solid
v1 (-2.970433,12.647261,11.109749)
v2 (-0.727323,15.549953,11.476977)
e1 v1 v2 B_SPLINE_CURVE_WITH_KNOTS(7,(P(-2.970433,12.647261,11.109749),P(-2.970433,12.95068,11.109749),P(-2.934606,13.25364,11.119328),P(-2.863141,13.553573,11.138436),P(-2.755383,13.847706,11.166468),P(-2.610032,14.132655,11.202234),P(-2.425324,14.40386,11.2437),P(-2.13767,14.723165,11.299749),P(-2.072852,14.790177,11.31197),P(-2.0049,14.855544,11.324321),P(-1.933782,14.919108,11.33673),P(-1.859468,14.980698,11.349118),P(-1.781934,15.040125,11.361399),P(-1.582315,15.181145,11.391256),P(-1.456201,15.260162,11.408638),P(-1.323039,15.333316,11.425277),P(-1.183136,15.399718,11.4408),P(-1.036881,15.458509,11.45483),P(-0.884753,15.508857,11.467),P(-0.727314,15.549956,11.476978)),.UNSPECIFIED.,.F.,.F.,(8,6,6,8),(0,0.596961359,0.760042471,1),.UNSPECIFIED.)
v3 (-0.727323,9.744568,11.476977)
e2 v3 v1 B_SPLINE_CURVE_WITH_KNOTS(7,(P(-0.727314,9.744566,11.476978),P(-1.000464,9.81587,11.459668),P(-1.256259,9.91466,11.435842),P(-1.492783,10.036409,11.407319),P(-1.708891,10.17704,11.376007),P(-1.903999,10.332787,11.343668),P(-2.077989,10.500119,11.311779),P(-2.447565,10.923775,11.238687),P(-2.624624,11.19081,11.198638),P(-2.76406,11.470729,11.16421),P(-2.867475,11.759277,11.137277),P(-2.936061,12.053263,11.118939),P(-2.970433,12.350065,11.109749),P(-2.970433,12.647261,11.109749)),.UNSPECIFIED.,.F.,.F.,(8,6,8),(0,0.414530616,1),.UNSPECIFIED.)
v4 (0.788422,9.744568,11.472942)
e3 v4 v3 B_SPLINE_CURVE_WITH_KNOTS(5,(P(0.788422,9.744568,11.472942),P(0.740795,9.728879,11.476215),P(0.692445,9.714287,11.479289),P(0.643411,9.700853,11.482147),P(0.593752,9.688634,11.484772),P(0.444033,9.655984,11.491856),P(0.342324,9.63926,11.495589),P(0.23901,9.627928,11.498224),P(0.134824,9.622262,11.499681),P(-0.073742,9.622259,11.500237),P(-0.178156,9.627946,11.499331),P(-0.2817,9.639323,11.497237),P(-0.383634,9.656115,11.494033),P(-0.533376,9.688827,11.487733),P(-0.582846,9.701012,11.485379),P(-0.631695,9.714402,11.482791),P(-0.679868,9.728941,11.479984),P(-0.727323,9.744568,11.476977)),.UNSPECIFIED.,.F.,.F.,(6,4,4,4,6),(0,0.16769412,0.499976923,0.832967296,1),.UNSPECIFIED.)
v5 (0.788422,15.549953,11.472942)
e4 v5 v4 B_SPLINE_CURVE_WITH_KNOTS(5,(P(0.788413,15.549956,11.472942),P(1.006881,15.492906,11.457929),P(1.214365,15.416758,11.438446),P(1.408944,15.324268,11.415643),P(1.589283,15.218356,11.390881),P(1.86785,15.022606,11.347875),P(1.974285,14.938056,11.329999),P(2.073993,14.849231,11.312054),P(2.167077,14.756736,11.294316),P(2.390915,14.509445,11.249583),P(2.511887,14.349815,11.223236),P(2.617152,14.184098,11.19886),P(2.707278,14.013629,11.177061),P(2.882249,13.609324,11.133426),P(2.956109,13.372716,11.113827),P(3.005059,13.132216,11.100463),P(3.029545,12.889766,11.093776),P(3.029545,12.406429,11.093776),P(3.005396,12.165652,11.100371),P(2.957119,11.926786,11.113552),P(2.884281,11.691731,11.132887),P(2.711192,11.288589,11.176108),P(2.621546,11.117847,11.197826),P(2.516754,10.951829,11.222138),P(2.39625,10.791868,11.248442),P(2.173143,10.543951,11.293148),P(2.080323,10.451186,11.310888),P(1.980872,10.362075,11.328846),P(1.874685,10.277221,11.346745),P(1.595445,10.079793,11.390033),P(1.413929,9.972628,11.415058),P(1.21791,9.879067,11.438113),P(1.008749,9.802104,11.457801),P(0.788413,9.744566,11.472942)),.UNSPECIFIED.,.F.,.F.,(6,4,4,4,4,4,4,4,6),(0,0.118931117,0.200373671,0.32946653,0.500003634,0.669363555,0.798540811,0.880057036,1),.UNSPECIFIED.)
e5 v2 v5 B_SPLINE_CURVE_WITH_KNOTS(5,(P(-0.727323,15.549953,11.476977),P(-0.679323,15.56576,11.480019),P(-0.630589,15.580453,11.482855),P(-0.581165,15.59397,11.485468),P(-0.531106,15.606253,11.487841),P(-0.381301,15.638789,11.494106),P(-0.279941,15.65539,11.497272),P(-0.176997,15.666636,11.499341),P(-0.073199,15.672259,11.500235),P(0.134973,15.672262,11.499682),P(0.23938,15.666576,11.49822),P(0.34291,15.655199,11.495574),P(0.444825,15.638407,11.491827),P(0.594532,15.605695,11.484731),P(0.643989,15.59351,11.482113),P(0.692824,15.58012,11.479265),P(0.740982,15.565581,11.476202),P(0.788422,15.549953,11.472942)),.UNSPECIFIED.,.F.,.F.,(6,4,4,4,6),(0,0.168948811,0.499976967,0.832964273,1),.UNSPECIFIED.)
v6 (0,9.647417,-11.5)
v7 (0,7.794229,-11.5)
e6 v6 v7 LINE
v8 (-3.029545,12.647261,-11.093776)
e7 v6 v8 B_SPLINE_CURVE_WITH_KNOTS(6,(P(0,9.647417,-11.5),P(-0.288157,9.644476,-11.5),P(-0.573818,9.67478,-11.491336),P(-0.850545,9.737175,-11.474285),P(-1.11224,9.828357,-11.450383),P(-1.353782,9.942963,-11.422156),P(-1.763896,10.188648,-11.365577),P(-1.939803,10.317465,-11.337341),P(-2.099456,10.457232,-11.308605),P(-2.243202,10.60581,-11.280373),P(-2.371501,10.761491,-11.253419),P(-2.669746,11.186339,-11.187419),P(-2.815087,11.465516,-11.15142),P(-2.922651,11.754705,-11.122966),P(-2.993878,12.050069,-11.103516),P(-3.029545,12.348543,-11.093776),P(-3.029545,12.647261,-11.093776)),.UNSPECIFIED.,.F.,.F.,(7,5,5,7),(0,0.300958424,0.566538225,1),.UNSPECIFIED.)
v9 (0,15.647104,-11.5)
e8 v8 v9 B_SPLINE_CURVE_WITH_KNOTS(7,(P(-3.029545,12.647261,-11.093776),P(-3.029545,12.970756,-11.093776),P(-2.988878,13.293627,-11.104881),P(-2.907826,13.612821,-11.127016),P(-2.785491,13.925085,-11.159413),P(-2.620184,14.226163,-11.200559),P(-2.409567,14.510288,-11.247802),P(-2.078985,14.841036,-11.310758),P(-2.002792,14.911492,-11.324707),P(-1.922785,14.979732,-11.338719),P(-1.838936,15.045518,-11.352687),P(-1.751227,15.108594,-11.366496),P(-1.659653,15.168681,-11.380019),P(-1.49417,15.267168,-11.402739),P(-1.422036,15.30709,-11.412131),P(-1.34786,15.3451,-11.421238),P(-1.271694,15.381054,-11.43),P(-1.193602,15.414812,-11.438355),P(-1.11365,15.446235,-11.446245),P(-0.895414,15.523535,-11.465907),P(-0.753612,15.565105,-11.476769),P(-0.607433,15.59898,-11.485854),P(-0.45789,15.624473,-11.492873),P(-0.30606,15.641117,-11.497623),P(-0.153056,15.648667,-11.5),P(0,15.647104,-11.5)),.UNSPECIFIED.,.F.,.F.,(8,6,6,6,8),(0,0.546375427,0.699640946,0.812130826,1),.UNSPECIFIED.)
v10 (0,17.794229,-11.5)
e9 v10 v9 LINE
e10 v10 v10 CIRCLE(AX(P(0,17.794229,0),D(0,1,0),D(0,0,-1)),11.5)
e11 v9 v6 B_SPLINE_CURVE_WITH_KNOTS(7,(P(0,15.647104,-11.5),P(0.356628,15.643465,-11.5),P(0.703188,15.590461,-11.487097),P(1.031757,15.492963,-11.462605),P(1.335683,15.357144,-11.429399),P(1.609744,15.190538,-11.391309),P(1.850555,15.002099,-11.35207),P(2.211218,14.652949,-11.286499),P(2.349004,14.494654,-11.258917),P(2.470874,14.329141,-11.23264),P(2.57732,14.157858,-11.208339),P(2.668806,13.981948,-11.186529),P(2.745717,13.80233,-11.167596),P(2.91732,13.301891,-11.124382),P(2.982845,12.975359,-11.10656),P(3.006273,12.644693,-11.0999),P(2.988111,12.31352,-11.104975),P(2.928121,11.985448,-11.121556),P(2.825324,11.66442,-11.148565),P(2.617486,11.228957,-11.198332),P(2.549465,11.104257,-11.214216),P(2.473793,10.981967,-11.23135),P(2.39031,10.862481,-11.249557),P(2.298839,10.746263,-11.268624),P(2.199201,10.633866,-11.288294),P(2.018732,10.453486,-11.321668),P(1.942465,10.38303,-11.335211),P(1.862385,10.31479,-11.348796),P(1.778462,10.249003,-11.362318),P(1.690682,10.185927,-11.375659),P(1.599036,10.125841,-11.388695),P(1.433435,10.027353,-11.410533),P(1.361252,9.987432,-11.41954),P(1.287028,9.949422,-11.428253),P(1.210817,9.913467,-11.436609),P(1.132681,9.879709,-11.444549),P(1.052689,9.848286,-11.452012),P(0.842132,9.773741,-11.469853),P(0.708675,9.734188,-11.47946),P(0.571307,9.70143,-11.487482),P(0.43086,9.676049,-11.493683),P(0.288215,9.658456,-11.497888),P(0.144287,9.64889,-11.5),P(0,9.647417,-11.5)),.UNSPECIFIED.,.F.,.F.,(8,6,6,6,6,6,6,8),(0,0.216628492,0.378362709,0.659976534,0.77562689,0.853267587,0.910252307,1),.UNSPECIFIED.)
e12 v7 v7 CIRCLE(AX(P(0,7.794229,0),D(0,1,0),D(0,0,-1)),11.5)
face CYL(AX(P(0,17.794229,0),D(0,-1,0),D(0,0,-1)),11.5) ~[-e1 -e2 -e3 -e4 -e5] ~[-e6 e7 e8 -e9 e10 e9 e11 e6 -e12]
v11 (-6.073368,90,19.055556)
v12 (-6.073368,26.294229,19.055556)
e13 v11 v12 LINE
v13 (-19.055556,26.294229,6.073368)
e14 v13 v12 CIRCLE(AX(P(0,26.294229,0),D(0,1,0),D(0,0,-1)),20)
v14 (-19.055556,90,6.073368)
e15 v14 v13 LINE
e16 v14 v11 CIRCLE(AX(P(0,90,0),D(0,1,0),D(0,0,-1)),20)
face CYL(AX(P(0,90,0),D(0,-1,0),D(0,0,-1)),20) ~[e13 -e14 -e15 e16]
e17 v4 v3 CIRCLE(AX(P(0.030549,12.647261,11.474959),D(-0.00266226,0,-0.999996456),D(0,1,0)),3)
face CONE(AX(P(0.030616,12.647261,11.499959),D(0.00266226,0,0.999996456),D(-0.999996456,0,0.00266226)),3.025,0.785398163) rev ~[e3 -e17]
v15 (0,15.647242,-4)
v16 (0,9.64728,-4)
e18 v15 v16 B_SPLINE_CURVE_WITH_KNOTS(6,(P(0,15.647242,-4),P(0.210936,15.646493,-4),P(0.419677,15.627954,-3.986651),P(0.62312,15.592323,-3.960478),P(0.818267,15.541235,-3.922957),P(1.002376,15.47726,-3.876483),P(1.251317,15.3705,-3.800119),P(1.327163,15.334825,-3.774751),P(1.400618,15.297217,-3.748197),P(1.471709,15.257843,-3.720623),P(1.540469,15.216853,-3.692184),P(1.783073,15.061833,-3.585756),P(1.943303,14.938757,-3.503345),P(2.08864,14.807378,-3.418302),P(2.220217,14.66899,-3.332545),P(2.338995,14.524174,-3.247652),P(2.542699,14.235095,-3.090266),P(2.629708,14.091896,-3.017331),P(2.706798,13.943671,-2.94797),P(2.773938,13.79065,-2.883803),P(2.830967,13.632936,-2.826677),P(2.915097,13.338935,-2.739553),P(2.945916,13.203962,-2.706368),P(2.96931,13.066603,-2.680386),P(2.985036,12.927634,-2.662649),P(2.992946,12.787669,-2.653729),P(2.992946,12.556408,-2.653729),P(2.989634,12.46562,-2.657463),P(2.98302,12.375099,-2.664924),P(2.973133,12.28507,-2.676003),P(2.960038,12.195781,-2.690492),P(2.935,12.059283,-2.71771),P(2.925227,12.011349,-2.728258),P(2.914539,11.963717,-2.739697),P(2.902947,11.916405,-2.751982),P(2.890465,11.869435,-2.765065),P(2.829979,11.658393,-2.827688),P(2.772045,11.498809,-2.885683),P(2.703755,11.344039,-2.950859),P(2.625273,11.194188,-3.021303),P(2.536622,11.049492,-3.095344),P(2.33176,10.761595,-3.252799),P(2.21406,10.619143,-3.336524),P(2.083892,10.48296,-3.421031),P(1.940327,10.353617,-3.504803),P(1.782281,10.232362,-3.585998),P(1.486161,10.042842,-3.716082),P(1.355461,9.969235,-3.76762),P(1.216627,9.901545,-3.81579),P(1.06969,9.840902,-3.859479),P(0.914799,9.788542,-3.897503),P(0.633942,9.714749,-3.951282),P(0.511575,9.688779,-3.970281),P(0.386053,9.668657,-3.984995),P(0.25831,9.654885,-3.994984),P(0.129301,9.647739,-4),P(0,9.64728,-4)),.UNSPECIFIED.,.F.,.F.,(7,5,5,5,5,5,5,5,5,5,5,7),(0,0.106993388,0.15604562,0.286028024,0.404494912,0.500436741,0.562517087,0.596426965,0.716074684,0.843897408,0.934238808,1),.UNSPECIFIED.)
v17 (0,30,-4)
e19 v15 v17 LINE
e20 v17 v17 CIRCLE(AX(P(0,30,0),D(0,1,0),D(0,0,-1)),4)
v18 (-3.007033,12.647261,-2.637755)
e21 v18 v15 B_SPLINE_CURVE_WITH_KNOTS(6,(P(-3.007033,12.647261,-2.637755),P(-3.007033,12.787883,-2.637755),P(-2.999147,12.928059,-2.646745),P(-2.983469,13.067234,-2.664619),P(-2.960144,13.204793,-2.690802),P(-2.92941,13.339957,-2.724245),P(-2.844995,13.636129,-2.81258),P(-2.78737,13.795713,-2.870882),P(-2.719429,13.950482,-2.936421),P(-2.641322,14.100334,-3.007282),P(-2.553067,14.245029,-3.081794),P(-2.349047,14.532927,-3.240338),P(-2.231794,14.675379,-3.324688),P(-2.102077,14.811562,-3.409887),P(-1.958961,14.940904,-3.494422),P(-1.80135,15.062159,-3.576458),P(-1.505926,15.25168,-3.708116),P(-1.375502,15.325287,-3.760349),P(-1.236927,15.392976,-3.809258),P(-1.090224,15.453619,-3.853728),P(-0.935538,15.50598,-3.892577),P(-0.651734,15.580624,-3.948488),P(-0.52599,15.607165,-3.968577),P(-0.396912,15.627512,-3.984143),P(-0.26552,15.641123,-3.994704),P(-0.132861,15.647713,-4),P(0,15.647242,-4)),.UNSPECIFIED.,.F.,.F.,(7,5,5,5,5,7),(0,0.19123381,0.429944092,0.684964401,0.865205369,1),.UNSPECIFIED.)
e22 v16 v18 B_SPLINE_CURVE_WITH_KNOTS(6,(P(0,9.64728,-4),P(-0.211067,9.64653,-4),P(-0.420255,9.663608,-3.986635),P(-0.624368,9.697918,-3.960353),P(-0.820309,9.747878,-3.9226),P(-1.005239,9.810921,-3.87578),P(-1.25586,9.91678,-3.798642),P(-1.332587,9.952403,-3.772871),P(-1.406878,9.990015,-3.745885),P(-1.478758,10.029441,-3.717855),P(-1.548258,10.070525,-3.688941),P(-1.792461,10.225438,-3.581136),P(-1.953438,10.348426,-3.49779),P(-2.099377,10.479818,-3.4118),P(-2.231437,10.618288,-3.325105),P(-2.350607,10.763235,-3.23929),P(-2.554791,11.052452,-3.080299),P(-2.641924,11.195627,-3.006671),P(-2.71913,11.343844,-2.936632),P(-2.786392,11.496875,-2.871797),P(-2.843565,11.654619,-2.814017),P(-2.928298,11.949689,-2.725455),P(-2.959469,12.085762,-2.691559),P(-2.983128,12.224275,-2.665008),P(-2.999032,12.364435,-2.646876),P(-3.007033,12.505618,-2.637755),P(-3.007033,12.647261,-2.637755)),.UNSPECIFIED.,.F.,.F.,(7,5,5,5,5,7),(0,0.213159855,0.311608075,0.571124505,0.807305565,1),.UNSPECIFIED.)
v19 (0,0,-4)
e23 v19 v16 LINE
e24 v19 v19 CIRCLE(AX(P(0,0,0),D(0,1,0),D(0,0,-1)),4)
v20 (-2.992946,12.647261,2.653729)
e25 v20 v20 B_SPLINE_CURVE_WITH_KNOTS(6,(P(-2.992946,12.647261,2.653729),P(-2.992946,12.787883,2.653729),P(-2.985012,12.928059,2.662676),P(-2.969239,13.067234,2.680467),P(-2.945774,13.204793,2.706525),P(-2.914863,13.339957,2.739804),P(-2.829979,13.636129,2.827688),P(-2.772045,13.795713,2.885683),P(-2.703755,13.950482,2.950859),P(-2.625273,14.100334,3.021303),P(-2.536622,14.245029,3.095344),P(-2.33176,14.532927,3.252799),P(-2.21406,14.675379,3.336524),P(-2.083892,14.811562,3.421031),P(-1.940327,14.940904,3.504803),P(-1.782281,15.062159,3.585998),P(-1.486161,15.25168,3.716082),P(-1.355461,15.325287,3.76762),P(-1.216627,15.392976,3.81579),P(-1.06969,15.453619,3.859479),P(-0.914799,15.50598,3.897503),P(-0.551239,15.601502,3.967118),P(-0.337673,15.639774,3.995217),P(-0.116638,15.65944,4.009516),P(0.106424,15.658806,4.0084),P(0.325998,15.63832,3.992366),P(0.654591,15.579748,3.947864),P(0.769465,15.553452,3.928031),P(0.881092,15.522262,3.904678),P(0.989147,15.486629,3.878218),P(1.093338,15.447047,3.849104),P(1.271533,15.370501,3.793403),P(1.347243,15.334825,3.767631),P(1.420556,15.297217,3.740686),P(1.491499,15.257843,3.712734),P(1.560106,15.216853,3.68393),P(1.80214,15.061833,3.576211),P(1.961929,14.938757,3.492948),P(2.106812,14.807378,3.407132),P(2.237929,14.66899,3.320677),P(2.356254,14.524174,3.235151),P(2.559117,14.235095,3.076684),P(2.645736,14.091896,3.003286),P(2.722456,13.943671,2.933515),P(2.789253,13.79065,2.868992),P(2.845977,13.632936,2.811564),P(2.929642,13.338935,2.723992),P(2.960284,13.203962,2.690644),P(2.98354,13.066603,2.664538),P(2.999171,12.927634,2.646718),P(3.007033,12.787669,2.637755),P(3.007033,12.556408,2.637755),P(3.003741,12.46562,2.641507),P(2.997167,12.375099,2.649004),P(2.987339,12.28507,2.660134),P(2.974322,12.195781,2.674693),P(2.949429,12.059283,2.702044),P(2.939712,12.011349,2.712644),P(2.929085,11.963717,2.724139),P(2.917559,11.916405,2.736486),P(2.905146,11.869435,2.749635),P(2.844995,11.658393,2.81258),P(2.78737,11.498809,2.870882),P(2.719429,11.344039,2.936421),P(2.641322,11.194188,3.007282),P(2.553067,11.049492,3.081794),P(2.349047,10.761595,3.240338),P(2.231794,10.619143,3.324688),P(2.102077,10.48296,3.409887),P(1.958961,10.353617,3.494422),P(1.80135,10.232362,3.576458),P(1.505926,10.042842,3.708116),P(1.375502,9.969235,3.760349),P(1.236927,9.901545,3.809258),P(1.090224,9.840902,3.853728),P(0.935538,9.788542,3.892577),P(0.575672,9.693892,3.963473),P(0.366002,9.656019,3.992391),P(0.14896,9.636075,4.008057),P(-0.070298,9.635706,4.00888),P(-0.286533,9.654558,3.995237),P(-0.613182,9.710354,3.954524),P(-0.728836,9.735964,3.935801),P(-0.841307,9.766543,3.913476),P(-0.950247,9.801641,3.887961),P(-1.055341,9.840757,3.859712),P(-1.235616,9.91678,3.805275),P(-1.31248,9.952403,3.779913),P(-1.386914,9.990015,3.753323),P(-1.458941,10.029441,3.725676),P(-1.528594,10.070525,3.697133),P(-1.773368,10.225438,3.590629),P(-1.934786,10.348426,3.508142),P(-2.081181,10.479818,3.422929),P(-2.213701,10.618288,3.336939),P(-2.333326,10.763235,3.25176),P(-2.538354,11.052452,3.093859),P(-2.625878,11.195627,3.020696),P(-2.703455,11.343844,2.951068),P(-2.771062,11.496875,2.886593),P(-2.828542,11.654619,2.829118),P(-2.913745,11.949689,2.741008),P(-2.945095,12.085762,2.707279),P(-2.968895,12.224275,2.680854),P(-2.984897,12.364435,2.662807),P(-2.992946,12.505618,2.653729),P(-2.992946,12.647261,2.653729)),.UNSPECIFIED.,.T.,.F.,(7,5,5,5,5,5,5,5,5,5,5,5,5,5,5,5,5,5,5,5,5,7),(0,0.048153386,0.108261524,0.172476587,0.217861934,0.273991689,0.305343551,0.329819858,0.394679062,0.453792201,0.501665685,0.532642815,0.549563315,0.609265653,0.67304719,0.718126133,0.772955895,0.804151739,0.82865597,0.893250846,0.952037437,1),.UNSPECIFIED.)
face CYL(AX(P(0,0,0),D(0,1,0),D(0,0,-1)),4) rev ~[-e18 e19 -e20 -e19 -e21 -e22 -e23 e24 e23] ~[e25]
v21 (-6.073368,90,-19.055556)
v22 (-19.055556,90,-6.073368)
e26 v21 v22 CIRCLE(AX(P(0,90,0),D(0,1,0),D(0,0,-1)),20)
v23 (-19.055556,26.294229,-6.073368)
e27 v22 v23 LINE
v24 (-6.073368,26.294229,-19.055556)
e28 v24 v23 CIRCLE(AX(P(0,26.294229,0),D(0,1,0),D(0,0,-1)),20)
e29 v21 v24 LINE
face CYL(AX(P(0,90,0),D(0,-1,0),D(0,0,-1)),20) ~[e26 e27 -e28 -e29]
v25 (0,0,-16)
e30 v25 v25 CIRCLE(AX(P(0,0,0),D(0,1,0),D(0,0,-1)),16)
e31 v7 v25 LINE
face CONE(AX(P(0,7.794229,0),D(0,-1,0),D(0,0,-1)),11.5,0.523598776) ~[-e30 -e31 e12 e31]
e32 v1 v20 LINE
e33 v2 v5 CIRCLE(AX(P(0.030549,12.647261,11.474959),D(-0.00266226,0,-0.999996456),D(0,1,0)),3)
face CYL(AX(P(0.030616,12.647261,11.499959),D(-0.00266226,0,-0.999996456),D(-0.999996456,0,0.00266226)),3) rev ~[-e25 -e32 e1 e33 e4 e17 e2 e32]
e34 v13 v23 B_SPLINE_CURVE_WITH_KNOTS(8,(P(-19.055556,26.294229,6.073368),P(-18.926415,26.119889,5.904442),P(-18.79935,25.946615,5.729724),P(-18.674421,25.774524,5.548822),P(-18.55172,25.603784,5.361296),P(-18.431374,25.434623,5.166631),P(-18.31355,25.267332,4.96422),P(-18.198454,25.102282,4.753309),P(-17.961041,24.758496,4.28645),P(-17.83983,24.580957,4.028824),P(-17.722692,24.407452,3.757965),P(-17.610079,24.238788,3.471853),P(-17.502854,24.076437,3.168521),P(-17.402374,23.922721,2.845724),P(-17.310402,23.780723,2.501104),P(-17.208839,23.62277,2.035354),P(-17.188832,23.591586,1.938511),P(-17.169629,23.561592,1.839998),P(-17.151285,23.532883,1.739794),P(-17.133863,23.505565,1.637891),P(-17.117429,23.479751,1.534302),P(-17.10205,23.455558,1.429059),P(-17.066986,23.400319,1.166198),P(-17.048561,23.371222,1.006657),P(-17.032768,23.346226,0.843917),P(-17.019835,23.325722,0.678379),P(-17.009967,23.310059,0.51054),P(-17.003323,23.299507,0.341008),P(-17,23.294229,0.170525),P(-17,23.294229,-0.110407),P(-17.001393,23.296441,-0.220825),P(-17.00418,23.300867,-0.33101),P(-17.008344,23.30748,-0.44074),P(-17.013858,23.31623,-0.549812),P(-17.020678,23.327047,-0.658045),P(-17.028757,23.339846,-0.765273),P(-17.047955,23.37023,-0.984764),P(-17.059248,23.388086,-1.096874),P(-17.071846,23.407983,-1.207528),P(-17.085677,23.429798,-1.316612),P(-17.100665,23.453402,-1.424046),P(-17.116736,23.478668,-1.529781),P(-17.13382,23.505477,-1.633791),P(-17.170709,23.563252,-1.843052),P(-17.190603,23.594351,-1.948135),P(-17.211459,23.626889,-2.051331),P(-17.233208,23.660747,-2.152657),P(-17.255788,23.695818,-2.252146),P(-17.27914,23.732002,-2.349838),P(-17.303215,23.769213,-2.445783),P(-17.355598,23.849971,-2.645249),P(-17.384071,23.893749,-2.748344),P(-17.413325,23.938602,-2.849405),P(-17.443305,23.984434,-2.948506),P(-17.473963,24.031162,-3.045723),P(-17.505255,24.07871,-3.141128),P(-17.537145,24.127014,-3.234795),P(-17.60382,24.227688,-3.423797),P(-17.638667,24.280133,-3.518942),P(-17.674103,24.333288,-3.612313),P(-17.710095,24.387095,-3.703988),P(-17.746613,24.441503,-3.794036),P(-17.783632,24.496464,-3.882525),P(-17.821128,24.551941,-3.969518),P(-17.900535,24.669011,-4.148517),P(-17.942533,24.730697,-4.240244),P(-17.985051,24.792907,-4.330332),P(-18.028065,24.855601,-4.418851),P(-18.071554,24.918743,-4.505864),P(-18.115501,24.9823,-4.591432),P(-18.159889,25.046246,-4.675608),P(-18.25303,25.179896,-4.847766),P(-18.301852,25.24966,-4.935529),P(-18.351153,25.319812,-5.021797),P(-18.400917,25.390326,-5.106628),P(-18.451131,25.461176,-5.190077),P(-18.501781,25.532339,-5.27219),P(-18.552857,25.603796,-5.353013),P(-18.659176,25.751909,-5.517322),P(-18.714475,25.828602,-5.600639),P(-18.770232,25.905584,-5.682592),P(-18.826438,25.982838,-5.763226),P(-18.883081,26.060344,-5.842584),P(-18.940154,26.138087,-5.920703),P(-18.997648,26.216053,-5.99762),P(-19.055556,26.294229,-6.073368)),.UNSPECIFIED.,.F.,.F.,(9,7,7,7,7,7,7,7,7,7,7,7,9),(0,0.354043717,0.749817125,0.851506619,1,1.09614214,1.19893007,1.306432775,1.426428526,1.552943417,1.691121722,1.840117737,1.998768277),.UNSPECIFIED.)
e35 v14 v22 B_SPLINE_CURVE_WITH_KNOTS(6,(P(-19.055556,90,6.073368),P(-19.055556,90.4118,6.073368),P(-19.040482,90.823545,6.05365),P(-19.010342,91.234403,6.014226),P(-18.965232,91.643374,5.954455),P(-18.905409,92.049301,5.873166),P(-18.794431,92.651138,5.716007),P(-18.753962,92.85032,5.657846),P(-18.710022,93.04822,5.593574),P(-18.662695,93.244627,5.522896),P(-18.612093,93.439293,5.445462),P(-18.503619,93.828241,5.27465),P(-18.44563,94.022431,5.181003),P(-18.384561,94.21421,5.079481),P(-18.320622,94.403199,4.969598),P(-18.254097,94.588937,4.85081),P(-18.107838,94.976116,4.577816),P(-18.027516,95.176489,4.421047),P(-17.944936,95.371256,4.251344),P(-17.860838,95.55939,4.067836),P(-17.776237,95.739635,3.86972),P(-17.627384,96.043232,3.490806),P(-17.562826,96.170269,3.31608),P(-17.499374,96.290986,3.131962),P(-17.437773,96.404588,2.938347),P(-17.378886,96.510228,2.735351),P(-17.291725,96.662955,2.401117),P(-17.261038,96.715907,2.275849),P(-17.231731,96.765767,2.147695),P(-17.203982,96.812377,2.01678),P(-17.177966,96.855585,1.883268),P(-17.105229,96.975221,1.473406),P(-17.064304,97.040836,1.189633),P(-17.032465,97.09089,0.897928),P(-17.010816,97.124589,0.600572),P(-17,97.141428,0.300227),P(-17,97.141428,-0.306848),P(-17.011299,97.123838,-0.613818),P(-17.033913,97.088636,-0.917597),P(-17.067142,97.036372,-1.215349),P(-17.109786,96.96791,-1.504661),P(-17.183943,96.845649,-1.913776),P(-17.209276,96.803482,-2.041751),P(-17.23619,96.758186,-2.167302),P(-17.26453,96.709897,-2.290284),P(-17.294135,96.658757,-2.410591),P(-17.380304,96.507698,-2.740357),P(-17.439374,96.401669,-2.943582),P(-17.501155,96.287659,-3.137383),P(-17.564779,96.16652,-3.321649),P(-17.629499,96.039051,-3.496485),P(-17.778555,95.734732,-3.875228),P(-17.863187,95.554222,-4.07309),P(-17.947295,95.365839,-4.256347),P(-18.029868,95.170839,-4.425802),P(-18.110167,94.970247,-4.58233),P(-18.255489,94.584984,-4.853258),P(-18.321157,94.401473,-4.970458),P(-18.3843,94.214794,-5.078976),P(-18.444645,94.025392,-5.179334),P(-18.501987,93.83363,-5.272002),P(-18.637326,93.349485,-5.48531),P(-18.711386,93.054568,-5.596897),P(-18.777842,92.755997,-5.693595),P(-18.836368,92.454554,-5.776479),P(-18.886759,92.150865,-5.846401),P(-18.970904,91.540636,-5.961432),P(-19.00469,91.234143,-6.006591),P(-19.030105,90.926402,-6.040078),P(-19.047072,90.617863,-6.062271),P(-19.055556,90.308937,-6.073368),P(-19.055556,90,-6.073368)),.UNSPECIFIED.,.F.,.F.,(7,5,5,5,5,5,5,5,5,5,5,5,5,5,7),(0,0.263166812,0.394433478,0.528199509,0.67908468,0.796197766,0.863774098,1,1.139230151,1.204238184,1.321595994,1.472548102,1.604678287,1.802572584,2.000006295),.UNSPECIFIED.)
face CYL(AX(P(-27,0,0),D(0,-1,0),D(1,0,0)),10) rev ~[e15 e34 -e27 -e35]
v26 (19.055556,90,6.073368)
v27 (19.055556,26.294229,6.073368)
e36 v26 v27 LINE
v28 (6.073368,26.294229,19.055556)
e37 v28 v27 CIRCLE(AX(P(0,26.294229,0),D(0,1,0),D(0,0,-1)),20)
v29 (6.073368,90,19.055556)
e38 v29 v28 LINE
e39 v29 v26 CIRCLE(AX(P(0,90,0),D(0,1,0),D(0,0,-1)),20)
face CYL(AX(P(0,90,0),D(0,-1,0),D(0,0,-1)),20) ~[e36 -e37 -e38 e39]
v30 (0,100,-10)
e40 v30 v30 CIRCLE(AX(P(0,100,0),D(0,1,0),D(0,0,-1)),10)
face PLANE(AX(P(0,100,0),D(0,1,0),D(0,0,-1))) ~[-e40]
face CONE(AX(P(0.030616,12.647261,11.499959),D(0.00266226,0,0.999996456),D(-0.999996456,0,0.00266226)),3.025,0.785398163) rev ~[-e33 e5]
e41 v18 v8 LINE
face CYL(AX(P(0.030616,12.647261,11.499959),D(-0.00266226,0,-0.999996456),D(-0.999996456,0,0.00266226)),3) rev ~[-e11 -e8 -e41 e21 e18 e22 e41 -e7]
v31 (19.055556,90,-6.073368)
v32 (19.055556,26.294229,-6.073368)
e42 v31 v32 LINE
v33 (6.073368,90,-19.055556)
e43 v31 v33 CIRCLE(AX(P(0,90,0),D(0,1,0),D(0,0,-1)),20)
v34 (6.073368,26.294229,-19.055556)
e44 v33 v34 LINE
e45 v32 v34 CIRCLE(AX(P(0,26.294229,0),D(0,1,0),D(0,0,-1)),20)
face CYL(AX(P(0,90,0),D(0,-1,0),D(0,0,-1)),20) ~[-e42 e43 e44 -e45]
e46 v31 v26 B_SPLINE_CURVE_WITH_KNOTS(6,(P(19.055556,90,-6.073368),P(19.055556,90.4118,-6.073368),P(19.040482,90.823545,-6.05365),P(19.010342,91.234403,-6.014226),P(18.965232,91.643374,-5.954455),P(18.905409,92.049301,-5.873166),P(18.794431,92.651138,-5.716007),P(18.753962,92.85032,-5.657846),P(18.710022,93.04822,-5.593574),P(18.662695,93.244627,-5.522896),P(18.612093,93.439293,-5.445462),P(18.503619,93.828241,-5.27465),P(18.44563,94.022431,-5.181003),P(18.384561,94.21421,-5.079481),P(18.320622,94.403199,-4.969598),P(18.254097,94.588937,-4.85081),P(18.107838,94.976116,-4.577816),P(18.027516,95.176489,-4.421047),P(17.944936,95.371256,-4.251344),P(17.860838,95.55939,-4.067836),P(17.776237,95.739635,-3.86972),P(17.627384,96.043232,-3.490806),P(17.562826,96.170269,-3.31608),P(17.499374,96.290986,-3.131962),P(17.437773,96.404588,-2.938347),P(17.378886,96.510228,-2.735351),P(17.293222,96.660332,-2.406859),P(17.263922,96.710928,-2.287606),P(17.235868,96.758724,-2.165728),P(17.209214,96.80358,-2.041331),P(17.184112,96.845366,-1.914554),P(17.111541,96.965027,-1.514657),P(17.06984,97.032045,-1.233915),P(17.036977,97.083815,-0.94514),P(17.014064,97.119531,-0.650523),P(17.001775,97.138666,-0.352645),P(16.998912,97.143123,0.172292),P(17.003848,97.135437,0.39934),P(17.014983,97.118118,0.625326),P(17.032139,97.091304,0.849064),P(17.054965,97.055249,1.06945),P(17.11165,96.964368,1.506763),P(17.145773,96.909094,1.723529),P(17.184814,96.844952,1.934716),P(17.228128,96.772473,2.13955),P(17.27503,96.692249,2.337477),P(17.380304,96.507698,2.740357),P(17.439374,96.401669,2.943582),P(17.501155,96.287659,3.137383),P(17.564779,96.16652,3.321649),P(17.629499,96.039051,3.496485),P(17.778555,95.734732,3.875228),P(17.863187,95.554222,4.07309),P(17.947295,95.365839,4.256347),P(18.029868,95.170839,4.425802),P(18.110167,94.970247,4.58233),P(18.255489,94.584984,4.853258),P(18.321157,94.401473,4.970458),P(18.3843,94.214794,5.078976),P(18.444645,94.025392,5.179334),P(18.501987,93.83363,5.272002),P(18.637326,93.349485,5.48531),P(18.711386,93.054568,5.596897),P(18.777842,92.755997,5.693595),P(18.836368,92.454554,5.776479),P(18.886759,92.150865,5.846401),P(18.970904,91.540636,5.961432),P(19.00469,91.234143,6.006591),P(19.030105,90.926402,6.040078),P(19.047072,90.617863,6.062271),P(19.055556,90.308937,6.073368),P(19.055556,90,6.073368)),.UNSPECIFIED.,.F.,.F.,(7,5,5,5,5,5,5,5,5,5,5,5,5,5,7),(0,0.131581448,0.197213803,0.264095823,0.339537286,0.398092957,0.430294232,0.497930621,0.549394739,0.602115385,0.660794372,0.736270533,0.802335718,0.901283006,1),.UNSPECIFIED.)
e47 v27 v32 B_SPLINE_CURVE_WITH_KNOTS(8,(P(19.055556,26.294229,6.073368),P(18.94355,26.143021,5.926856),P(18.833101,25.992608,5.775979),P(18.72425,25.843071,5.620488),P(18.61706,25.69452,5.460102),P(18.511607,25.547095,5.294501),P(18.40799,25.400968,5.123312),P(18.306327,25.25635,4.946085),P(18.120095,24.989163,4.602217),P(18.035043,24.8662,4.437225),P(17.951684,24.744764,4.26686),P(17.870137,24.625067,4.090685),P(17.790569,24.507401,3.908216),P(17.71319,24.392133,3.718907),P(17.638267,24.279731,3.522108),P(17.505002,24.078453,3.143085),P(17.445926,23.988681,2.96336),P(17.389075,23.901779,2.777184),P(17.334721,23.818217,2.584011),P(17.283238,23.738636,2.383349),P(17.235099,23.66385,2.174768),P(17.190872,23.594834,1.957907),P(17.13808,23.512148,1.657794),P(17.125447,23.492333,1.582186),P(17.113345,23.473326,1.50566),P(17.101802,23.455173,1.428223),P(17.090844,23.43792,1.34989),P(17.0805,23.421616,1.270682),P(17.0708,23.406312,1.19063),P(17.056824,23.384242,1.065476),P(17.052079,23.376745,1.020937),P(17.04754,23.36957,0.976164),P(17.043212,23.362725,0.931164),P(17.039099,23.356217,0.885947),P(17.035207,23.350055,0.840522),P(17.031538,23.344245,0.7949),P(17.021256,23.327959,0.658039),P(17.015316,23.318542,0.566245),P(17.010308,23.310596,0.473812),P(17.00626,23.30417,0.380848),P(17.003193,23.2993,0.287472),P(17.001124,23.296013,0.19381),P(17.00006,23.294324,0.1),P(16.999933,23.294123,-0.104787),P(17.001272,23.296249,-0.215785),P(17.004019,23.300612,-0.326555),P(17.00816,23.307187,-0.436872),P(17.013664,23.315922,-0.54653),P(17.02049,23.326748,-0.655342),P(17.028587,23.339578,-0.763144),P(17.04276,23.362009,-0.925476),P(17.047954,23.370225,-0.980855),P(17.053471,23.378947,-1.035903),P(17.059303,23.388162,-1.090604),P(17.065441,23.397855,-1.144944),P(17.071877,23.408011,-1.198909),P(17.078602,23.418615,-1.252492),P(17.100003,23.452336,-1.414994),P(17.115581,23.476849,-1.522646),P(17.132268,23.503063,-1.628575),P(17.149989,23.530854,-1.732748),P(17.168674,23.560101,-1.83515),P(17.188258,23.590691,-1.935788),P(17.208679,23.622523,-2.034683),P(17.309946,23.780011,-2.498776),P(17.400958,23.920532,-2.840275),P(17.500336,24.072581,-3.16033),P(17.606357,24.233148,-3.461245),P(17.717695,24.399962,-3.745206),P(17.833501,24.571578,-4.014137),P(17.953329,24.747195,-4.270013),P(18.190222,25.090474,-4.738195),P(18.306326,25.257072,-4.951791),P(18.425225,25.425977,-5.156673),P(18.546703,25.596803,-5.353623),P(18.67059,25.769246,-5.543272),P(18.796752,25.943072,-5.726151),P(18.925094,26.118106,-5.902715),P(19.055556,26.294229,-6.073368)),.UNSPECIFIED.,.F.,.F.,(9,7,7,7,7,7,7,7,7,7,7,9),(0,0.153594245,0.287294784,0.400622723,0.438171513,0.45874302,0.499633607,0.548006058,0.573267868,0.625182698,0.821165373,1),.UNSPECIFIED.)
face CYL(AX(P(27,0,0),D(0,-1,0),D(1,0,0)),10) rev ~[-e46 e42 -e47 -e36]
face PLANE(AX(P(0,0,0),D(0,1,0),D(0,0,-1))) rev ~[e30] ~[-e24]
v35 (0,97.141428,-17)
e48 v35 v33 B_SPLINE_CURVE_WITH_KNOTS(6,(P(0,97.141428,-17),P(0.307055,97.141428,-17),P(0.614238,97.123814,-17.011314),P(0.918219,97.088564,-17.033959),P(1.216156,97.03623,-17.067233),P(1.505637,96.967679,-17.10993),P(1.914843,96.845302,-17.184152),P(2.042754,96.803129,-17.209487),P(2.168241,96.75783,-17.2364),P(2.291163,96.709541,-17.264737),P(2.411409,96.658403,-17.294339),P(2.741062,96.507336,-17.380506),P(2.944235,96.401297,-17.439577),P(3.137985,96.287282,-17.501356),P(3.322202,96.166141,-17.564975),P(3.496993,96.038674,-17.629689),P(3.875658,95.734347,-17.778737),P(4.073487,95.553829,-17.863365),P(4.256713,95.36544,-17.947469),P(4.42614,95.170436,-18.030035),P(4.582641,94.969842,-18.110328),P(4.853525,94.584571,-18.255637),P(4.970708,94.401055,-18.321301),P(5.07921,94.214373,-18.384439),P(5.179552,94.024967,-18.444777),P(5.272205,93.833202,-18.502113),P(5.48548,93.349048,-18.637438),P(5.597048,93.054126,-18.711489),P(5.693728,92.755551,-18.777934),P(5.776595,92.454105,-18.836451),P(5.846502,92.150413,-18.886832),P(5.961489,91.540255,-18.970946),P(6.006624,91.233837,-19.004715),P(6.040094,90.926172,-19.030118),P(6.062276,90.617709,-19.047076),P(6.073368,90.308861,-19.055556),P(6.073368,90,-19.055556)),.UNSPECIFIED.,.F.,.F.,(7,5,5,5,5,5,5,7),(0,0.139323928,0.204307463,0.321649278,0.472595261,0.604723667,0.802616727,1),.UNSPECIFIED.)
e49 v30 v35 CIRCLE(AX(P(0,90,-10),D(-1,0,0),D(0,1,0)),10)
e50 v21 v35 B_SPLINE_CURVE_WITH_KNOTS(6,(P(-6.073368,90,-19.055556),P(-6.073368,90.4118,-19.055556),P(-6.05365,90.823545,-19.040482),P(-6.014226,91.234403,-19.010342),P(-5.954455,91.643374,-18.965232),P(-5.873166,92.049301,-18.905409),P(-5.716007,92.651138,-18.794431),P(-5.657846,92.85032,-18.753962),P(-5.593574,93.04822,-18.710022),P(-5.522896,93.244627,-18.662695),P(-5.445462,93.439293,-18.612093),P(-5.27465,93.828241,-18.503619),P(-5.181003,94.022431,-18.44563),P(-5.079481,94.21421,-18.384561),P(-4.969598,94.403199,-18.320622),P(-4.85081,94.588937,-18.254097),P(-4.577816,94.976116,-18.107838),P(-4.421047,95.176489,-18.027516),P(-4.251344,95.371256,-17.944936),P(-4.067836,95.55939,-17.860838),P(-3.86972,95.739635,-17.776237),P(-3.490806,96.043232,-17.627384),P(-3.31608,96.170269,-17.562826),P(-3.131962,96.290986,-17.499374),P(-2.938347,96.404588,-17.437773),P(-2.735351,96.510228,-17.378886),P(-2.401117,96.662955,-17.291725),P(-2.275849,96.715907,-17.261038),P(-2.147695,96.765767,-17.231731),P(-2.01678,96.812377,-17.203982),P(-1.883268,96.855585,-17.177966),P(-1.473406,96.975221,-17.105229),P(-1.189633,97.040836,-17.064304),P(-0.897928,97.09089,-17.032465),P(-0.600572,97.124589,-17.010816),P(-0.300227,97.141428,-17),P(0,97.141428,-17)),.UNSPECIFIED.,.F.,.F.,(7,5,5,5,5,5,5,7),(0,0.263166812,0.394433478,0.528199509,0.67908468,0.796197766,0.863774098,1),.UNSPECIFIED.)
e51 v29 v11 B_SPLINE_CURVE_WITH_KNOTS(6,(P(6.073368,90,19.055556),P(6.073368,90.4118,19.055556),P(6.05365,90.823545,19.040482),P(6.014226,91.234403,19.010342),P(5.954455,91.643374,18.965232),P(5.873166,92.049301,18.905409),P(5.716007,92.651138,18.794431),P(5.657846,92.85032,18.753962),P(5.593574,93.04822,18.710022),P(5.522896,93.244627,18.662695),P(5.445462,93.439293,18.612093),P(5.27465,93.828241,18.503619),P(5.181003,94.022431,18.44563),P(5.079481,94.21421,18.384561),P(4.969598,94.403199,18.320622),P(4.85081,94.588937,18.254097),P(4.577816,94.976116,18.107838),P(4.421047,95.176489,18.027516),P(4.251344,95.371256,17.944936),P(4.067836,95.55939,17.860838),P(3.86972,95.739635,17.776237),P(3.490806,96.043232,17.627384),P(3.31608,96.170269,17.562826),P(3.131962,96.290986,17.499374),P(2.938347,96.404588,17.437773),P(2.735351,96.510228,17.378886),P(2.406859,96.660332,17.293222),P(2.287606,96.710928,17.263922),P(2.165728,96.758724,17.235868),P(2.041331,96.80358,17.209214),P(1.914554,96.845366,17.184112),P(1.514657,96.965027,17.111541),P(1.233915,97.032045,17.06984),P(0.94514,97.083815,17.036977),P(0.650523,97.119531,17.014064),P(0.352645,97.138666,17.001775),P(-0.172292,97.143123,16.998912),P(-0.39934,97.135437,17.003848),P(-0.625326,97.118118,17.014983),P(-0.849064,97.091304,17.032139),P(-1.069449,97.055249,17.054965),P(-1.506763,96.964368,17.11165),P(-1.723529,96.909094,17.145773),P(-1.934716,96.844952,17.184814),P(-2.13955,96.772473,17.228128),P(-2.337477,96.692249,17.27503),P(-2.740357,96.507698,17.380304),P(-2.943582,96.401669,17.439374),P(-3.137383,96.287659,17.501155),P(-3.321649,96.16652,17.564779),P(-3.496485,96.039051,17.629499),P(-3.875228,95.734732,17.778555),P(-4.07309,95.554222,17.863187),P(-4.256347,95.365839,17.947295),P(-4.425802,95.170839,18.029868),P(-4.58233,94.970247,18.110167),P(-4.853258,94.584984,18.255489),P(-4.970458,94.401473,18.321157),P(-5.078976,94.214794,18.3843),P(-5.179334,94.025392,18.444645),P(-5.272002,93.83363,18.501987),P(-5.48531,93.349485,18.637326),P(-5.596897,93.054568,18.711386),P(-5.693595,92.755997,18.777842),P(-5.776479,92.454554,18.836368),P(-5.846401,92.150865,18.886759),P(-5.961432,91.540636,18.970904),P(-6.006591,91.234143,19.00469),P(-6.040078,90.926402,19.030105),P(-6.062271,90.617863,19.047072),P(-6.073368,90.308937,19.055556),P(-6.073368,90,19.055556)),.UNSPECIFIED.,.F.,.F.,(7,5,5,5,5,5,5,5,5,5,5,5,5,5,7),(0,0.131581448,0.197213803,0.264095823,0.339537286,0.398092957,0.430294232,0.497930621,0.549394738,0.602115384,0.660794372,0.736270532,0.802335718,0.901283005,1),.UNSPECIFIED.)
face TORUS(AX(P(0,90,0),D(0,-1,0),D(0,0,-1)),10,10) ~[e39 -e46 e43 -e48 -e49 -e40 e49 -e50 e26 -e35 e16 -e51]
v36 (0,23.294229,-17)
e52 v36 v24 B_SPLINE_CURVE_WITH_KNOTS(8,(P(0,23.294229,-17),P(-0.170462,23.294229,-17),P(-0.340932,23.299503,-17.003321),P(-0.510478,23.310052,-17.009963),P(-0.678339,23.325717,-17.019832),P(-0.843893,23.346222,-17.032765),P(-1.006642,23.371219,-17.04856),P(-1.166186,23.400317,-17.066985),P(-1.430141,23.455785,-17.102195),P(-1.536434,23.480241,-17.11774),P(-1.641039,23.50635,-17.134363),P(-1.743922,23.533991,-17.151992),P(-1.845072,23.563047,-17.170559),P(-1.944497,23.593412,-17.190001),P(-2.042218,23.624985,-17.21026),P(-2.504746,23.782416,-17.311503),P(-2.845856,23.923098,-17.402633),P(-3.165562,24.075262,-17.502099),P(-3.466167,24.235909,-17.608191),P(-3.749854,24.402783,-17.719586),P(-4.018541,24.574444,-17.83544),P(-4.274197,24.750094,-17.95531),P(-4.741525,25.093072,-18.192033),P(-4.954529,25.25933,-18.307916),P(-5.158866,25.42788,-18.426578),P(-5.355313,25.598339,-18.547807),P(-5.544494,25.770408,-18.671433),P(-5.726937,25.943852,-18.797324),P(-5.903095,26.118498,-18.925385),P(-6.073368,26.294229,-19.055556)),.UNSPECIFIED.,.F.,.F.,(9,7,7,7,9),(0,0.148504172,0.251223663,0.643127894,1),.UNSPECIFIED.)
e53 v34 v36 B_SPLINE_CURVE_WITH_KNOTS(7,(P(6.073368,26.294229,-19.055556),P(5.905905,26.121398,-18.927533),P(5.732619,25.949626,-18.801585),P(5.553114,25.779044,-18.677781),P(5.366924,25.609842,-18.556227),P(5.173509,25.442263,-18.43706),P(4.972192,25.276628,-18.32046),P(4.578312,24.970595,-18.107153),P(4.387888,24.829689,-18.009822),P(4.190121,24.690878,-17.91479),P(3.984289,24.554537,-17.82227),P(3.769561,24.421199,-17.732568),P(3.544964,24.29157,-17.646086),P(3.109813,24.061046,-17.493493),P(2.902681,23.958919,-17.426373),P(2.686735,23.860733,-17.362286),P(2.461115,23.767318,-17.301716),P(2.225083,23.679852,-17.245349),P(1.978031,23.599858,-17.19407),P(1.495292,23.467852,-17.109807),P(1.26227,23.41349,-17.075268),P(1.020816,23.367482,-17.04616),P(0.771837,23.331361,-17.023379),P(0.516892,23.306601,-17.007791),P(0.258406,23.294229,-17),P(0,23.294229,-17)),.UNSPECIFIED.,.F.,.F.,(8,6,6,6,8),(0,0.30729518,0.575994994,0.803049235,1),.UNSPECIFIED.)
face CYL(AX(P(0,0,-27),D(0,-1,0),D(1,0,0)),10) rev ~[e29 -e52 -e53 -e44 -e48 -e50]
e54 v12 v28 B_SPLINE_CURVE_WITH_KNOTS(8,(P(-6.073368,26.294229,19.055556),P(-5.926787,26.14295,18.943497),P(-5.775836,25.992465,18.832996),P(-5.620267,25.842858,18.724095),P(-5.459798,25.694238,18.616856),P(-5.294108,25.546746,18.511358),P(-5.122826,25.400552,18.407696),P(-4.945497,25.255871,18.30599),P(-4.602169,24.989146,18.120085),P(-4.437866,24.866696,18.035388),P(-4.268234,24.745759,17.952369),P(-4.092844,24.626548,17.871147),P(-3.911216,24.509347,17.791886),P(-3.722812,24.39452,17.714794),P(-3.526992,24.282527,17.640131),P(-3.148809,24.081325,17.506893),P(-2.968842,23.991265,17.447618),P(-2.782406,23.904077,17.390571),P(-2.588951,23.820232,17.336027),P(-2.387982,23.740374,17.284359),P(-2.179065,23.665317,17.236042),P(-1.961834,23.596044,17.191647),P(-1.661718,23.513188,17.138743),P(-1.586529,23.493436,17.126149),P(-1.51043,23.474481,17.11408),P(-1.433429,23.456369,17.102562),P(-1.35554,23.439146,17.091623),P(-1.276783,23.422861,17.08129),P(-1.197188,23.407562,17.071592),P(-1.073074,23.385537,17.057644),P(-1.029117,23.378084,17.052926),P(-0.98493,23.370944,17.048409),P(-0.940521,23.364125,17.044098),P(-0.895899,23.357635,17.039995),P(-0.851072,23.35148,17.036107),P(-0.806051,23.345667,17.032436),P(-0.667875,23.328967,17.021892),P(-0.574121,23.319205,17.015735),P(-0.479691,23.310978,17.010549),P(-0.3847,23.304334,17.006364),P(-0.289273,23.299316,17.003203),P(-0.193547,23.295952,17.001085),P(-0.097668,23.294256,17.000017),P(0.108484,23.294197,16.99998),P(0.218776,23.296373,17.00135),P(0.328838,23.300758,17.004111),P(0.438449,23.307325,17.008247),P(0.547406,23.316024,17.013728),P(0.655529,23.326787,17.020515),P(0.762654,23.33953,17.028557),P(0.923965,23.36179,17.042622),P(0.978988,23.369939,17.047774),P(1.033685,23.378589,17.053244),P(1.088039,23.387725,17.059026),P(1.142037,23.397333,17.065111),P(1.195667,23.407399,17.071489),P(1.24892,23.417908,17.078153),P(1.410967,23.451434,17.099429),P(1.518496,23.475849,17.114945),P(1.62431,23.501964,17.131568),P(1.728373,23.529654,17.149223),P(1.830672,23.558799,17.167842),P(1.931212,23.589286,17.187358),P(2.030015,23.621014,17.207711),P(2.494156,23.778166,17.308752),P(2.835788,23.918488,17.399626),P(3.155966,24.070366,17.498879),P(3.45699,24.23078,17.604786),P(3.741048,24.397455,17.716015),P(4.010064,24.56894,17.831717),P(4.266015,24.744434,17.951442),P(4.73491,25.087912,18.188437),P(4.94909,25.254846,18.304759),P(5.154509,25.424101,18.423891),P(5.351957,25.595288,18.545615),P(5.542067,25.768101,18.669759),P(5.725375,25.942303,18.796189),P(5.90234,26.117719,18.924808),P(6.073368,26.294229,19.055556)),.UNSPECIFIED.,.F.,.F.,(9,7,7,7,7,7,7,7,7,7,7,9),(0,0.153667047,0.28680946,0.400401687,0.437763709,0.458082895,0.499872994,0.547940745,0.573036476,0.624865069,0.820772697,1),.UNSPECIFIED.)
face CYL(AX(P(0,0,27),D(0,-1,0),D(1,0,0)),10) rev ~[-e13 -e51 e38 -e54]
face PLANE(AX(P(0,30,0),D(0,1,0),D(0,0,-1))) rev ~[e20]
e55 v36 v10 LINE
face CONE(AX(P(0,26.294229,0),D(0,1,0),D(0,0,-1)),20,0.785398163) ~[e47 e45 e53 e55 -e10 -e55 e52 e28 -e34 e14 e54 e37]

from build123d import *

# Parameters (mm, degrees)
SKETCH3_R                       = 10
CUT_EXTRUDE1_DEPTH              = 104.923048473
F_6_0MM_DOWEL_HOLE1_D           = 6
F_6_0MM_DOWEL_HOLE1_CSINK_D     = 6.05
F_6_0MM_DOWEL_HOLE1_CSINK_ANGLE = 90


with BuildPart() as part:
    # Sketch2 → Revolve1 (revolve)
    with BuildSketch(Plane.XY, mode=Mode.PRIVATE) as revolve1_sk:
        with BuildLine():
            Line((4, 0), (4, 30))
            Line((4, 30), (0, 30))
            Line((0, 30), (0, 100))
            Line((0, 100), (10, 100))
            ThreePointArc((10, 100), (17.071067812, 97.071067812), (20, 90))
            Line((20, 90), (20, 26.294228634))
            Line((20, 26.294228634), (11.5, 17.794228634))
            Line((11.5, 17.794228634), (11.5, 7.794228634))
            Line((11.5, 7.794228634), (16, 0))
            Line((16, 0), (4, 0))
        make_face()
    revolve(revolve1_sk.sketch.rotate(Axis((0, 30, 0), (0, 1, 0)), 90), axis=Axis((0, 30, 0), (0, 1, 0)))

    # Sketch3 → Cut-Extrude1 (cut, through all)
    with BuildSketch(Plane.XZ):
        with Locations((0, 27)):
            Circle(SKETCH3_R)
        with Locations((27, 0)):
            Circle(SKETCH3_R)
        with Locations((0, -27)):
            Circle(SKETCH3_R)
        with Locations((-27, 0)):
            Circle(SKETCH3_R)
    extrude(amount=-CUT_EXTRUDE1_DEPTH, mode=Mode.SUBTRACT)

    # Ø6.0mm Dowel Hole1 (through all)
    with Locations(Plane(origin=(0.030615993, 12.647260725, 11.499959246), x_dir=(0.999996456179, 0, -0.002662260256), z_dir=(0.002662260256, 0, 0.999996456179))):
        with Locations((0, 0)):
            CounterSinkHole(F_6_0MM_DOWEL_HOLE1_D / 2, F_6_0MM_DOWEL_HOLE1_CSINK_D / 2, counter_sink_angle=F_6_0MM_DOWEL_HOLE1_CSINK_ANGLE)


solid = part.part
